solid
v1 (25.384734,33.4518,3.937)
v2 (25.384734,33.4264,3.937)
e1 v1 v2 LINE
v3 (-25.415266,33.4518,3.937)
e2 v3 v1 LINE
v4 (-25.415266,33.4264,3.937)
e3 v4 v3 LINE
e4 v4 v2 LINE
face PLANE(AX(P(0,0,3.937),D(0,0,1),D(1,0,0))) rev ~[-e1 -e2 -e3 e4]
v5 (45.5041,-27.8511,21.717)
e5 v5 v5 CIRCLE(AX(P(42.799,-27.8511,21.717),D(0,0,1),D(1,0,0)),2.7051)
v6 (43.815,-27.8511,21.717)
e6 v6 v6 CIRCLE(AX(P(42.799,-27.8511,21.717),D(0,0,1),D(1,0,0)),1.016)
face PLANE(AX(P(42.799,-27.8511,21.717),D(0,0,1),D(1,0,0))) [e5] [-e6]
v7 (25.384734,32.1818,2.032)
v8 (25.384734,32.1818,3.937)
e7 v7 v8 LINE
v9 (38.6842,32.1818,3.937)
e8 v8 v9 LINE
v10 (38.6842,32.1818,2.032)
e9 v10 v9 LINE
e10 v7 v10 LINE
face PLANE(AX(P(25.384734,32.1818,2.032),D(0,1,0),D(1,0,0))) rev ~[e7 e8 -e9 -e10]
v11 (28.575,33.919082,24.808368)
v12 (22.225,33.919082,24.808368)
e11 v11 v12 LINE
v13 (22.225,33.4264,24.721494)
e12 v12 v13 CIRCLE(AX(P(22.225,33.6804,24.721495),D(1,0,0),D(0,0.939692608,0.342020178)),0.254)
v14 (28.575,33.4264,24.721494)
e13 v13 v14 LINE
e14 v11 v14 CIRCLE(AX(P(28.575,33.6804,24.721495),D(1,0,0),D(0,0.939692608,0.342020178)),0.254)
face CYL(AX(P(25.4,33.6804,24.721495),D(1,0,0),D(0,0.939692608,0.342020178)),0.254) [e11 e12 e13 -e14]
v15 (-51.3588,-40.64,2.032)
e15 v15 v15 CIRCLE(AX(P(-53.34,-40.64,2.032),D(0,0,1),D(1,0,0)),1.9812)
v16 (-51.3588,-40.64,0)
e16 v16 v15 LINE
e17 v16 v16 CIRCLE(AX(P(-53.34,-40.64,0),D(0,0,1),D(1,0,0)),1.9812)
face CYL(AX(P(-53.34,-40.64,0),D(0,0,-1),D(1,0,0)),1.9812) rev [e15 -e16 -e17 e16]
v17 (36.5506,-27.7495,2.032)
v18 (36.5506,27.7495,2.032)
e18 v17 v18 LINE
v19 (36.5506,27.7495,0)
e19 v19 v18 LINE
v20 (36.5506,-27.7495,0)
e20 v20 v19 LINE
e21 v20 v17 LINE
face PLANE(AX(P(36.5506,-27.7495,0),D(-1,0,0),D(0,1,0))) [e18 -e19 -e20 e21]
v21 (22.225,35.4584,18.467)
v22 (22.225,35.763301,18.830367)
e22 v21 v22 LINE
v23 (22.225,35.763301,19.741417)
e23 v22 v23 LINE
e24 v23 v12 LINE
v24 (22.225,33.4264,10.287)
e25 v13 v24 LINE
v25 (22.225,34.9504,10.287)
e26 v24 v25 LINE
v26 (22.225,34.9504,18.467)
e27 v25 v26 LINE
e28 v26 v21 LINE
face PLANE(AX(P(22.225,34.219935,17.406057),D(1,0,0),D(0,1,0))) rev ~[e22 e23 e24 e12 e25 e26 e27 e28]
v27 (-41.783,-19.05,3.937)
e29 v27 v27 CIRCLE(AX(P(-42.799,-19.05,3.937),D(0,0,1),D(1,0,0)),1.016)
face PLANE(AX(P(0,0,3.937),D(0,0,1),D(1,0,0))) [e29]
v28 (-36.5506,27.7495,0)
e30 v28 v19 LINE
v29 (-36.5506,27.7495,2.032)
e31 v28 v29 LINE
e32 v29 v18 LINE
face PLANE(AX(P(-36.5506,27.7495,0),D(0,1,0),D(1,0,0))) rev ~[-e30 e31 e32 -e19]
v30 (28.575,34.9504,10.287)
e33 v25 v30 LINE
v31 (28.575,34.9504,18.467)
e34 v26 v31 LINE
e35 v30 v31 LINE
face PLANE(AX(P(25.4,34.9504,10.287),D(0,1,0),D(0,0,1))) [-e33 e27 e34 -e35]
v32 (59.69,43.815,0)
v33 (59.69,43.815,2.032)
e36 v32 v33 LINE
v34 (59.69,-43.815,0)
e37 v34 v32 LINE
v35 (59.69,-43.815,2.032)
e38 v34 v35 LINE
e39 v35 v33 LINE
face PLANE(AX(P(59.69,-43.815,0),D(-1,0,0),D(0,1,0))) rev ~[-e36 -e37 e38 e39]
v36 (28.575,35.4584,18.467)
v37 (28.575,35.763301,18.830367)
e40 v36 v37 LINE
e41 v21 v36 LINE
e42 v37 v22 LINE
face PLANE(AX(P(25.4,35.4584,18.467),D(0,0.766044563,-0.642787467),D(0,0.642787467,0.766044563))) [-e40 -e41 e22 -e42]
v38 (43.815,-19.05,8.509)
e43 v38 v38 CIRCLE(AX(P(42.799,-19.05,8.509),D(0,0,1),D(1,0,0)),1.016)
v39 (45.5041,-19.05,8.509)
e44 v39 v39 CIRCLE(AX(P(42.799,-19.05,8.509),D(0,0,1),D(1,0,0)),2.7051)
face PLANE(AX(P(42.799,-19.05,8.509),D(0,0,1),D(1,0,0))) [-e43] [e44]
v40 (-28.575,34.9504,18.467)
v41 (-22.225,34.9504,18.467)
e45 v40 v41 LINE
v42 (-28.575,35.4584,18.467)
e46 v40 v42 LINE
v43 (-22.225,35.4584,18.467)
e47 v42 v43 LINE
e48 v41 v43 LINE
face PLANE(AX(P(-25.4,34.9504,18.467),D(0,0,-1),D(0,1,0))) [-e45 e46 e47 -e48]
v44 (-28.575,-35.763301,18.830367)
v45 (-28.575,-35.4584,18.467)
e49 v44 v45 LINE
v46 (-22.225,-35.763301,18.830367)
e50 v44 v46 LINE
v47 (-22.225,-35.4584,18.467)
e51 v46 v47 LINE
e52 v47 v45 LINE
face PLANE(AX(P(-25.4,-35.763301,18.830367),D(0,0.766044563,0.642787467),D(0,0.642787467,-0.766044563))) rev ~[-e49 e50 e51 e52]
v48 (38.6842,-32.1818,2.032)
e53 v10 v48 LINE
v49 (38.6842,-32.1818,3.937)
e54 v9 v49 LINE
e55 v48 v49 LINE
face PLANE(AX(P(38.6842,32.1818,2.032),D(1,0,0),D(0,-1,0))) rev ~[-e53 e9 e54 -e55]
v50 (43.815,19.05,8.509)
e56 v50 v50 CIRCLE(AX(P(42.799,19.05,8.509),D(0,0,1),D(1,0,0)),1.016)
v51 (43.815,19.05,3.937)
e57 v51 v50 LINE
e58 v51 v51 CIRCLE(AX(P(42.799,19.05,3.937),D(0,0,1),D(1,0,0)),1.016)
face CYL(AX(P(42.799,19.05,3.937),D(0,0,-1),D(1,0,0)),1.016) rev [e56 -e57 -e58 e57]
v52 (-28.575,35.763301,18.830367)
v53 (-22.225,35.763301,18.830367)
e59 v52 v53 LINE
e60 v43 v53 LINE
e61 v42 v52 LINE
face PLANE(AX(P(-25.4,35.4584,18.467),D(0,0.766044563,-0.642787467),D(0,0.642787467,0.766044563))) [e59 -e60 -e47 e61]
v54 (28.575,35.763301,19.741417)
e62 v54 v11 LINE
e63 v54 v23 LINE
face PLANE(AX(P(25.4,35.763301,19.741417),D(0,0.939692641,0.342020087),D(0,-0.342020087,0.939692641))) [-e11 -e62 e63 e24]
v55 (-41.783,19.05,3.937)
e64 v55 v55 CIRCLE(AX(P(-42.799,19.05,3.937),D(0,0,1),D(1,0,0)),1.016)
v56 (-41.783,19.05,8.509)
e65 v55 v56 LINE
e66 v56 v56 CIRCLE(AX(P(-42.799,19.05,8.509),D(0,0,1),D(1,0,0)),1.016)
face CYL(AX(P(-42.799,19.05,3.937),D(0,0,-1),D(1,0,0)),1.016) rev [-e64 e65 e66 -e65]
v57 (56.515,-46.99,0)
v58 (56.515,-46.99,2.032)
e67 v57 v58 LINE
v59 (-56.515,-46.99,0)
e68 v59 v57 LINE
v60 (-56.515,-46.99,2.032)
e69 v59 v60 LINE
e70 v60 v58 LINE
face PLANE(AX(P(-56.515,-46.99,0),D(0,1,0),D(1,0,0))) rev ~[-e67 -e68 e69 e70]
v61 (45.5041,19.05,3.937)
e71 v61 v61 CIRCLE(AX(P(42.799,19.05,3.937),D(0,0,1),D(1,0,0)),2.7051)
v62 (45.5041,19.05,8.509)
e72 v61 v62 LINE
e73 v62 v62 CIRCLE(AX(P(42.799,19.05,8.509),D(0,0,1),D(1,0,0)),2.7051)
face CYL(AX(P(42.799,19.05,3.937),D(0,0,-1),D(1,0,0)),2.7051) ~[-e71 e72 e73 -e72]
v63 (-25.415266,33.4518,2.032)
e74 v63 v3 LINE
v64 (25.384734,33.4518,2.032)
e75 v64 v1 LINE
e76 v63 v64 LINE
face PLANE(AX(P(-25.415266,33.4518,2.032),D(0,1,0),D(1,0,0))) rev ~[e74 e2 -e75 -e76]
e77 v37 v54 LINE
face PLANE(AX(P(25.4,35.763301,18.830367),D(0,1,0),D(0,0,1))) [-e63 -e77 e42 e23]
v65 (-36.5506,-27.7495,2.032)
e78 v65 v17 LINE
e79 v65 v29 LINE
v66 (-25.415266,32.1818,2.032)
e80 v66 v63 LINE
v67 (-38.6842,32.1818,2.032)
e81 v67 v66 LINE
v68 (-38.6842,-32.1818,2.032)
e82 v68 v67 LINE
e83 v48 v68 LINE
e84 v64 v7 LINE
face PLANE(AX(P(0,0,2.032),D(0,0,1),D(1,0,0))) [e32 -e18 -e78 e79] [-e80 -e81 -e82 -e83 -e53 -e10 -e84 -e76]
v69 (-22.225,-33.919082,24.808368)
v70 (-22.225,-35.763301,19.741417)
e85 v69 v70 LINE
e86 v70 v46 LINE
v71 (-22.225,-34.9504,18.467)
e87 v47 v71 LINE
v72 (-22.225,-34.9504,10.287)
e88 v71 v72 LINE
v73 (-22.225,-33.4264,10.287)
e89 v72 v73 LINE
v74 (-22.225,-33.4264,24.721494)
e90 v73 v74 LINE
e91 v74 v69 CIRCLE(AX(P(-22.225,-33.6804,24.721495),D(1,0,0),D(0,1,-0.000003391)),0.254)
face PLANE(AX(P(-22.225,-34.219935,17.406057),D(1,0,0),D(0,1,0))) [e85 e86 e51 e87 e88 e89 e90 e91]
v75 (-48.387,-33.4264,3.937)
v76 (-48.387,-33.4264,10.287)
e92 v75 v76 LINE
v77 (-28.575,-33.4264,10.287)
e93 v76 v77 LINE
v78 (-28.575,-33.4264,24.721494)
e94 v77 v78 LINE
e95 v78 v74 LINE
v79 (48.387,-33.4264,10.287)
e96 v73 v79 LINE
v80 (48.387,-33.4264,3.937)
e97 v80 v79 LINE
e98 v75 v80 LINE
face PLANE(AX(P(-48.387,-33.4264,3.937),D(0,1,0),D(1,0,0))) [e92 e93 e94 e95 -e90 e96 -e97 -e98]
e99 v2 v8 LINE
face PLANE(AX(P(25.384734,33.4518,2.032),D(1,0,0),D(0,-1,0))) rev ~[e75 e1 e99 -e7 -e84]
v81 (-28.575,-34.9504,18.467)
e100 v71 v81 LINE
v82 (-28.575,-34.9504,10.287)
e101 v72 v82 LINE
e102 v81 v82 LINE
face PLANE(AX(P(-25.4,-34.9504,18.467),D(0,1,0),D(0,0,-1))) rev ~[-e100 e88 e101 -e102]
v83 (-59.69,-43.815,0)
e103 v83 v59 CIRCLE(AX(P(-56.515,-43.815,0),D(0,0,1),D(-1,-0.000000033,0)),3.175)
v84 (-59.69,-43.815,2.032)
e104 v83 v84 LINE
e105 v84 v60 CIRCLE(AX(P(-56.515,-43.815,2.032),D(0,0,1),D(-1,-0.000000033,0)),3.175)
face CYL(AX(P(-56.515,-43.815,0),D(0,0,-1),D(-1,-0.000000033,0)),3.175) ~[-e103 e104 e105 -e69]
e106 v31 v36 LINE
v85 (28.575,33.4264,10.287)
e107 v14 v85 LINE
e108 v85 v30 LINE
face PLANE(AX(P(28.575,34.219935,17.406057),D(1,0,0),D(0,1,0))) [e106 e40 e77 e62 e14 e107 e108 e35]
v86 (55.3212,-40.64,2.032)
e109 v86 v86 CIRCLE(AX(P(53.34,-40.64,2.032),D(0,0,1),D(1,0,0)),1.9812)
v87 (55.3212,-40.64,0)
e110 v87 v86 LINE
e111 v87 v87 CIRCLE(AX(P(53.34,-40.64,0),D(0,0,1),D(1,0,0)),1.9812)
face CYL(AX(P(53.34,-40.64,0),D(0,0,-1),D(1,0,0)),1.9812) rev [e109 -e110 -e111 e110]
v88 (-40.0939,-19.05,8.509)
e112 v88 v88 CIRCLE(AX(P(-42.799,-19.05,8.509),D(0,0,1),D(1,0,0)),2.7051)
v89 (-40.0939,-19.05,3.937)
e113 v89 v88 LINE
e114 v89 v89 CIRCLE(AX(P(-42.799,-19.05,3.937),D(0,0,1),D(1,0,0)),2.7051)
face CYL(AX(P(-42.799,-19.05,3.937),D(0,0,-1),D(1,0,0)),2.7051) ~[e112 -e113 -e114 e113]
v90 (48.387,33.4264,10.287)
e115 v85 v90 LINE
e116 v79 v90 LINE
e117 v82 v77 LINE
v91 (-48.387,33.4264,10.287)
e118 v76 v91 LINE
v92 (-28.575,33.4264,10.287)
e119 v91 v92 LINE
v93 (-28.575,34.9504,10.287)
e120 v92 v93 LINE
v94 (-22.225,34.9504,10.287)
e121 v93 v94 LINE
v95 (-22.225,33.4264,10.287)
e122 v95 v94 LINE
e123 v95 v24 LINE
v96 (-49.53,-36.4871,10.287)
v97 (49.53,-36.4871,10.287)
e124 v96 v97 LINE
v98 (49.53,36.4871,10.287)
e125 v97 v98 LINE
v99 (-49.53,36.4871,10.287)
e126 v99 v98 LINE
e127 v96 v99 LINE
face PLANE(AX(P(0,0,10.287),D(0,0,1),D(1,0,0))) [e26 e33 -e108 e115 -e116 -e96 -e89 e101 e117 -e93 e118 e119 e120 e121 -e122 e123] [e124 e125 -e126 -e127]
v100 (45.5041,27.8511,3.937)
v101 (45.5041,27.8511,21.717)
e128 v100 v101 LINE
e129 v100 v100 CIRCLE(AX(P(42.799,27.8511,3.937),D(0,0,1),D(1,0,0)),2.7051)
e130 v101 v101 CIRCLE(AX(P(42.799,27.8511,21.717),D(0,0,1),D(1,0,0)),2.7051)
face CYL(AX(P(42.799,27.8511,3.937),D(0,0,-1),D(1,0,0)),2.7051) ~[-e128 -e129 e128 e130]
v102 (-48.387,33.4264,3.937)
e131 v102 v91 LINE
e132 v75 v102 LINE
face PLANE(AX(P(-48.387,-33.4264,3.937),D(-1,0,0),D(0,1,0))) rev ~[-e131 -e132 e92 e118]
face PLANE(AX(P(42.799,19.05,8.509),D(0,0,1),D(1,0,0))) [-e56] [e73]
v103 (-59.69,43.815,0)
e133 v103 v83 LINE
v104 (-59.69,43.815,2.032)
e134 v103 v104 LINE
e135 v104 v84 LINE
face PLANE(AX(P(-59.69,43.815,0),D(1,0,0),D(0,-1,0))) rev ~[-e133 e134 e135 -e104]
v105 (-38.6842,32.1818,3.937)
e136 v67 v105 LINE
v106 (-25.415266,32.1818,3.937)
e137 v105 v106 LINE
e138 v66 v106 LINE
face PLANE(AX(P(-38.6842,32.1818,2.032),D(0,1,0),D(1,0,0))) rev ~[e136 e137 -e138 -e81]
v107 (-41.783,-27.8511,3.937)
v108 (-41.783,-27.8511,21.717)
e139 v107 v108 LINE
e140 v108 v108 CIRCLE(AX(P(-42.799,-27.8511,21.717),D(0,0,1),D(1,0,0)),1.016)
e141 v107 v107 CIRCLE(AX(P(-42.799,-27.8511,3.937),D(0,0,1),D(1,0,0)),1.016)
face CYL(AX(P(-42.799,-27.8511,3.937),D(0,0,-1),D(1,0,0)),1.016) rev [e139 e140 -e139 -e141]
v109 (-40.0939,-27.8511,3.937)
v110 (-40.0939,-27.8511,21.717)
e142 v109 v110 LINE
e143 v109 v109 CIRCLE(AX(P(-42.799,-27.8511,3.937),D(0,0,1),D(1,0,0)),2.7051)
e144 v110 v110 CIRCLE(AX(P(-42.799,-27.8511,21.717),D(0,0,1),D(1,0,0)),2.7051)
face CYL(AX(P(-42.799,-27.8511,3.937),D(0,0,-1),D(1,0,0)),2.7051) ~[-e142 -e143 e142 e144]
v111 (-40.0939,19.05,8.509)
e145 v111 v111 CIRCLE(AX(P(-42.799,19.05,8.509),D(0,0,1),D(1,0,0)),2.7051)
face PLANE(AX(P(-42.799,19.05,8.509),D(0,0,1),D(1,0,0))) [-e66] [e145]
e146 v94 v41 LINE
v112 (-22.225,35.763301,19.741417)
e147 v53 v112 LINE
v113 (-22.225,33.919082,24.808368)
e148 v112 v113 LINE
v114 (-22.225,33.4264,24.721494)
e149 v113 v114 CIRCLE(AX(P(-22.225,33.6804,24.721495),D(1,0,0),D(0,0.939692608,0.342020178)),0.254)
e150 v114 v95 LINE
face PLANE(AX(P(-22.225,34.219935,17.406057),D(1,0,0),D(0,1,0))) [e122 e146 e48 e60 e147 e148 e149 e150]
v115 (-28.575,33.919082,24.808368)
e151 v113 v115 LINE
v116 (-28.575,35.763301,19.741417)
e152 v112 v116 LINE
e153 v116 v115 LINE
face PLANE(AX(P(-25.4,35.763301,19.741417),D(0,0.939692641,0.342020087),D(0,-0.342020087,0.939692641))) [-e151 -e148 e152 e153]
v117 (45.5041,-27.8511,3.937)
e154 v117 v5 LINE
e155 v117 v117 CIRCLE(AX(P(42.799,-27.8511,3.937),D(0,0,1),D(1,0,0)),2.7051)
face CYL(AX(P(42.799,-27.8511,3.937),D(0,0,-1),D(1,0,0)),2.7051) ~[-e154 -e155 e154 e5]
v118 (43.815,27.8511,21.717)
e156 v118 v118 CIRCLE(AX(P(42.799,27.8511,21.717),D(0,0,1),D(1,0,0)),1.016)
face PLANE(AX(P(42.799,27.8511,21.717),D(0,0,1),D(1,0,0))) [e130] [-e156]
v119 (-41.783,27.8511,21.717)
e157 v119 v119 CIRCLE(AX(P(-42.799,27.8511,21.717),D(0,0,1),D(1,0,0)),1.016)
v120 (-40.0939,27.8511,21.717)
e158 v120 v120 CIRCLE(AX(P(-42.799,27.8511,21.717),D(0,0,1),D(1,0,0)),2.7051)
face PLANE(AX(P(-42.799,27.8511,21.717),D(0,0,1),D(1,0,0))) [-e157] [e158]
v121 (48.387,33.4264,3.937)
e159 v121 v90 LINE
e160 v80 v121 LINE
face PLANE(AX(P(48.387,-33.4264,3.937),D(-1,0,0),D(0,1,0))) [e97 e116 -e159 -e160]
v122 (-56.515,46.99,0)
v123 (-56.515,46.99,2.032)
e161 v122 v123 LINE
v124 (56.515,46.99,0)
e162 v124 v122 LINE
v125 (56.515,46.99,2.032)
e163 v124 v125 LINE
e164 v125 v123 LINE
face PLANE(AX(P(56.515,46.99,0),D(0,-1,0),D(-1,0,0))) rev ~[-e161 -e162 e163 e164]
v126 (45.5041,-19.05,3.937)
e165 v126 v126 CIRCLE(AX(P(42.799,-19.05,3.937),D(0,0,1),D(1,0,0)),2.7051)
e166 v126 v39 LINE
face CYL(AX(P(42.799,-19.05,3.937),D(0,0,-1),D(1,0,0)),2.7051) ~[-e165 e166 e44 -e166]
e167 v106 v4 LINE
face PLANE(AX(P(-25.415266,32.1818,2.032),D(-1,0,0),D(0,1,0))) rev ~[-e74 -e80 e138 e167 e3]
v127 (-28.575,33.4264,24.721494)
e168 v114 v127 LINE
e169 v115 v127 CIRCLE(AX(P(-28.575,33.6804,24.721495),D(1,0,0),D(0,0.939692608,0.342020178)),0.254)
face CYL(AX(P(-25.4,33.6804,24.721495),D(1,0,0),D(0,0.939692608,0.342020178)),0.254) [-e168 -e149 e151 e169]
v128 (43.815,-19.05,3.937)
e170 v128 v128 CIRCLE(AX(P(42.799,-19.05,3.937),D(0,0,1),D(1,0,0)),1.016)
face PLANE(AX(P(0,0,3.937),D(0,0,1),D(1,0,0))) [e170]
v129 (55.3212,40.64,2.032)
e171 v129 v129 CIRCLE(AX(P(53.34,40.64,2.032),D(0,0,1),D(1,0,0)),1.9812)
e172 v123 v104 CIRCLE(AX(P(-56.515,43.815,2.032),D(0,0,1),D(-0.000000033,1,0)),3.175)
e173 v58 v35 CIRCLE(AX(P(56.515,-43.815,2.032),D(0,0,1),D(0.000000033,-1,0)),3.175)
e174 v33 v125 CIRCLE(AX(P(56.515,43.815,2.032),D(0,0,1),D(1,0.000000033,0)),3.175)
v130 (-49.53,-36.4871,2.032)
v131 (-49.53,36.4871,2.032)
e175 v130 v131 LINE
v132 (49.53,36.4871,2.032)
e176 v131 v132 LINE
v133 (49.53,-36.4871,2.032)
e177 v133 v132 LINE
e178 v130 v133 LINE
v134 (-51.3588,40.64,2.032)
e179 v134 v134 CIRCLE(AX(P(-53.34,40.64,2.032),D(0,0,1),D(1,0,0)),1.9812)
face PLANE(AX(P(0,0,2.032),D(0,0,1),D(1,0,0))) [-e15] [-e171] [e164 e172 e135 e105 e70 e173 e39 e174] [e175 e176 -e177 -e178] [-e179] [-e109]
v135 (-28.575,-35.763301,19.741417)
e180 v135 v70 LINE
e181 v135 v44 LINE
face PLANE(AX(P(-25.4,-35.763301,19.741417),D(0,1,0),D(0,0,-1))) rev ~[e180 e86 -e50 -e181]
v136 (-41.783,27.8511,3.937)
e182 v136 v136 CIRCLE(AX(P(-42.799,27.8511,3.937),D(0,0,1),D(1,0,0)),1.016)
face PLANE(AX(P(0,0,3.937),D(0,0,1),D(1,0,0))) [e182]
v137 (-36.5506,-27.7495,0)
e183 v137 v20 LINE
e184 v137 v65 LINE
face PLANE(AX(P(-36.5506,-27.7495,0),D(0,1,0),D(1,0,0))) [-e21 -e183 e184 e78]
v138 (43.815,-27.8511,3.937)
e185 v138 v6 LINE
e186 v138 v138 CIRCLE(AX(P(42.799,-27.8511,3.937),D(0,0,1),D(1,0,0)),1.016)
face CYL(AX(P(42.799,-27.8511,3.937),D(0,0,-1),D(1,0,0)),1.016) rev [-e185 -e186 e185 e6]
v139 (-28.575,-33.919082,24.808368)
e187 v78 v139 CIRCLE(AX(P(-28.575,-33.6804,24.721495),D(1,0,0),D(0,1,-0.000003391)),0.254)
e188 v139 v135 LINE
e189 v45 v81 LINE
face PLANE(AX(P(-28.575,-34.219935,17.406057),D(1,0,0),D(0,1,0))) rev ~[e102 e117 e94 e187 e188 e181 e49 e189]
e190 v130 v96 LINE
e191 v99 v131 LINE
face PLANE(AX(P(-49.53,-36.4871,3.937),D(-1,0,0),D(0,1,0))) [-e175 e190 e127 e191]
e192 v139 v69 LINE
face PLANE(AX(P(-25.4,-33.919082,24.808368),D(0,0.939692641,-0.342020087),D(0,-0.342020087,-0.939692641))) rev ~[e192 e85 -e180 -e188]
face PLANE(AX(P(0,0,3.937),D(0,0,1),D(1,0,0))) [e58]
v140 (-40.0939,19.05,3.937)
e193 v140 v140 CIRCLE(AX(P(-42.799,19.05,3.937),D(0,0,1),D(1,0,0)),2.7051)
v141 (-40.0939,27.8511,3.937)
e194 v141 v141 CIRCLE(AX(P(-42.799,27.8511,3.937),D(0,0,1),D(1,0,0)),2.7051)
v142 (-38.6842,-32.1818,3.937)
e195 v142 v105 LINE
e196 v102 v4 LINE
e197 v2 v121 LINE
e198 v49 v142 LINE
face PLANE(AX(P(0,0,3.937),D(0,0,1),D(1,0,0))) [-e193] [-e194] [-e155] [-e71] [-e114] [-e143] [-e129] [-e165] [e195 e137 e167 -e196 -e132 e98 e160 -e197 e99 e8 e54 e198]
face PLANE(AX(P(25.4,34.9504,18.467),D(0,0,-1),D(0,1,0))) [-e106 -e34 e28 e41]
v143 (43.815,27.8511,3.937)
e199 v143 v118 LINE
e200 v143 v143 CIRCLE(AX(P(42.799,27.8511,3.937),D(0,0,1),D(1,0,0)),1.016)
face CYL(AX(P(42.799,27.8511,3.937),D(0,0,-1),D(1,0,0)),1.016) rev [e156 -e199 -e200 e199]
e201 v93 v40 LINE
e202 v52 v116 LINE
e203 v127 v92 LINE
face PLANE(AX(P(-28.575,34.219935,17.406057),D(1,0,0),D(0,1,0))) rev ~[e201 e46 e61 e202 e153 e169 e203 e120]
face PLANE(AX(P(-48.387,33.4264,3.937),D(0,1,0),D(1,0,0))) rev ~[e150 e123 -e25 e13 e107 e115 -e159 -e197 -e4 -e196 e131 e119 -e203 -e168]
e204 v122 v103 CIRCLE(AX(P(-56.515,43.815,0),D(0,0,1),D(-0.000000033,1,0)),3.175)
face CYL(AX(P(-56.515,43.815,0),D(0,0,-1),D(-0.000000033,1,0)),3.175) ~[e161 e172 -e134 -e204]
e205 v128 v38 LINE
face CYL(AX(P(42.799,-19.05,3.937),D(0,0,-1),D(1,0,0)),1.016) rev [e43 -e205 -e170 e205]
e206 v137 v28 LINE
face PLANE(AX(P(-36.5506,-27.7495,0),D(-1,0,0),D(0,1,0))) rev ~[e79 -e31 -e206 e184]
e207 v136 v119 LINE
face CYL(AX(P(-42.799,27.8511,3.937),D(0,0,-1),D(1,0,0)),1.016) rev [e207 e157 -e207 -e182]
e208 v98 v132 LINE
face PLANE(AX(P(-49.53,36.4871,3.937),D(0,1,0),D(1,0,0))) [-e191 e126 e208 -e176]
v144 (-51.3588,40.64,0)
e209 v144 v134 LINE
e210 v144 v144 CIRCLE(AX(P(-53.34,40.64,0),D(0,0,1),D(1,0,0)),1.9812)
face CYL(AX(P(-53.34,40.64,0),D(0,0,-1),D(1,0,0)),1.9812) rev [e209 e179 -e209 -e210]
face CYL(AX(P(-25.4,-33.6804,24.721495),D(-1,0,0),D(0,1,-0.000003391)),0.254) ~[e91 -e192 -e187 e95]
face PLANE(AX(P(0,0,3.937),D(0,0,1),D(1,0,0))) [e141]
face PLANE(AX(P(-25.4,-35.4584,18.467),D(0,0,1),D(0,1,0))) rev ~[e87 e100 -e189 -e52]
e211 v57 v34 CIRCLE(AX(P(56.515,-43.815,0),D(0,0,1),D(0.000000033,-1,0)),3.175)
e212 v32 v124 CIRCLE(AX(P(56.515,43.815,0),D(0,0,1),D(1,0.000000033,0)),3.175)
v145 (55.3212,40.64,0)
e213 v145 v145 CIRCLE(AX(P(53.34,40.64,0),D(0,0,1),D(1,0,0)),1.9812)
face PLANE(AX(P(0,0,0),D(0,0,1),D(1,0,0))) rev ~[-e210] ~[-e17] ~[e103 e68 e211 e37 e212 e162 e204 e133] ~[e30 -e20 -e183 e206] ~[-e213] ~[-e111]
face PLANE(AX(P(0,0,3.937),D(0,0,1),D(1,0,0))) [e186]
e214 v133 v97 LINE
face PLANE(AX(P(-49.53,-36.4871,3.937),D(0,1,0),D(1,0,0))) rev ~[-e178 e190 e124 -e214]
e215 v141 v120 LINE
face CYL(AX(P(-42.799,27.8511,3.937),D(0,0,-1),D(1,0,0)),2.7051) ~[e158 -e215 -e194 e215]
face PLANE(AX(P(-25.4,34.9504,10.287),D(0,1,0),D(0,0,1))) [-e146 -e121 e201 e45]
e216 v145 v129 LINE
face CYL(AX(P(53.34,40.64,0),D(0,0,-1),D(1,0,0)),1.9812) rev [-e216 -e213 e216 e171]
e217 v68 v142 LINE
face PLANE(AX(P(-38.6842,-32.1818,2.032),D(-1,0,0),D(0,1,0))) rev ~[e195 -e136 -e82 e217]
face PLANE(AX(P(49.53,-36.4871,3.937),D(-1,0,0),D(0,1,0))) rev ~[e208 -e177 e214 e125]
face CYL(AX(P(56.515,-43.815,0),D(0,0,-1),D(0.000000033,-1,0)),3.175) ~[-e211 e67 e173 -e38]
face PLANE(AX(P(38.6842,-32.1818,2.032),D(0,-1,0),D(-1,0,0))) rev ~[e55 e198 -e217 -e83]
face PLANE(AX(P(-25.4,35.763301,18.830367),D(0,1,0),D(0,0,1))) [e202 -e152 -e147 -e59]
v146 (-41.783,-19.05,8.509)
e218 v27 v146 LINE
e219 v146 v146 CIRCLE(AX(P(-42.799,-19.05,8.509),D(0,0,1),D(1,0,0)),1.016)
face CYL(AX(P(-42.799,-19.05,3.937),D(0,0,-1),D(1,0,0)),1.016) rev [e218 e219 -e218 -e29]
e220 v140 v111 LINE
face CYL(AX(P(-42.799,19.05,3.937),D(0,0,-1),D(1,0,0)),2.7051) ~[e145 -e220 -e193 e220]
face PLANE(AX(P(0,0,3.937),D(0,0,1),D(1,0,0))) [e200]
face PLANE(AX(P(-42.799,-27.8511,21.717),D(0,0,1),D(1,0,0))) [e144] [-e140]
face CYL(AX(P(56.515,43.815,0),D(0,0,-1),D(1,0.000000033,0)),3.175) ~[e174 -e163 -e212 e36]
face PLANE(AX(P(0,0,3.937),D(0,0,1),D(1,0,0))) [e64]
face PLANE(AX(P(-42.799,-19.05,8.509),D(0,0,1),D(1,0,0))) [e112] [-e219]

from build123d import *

# Parameters (mm, degrees)
F0_R      = 1.9812
F0_W      = 73.1012
F0_H      = 55.499
F1_DEPTH  = 2.032
F2_W      = 99.06
F2_H      = 72.9742
F3_DEPTH  = 1.905
F4_W      = 99.06
F4_H      = 72.9742
F4_W_2    = 96.774
F4_H_2    = 66.8528
F5_DEPTH  = 6.35
F6_R      = 2.7051
F6_R_2    = 1.016
F7_DEPTH  = 17.78
F8_R      = 2.7051
F8_R_2    = 1.016
F9_DEPTH  = 4.572
F12_DEPTH = 3.175
F15_DEPTH = 3.175


with BuildPart() as f1:
    # F0 (on Top) → F1 (new body)
    with BuildSketch(Plane.XY):
        with BuildLine():
            Line((56.515, 46.99), (-56.515, 46.99))
            ThreePointArc((-56.515, 46.99), (-58.760064, 46.060064), (-59.69, 43.815))
            Line((-59.69, 43.815), (-59.69, -43.815))
            ThreePointArc((-59.69, -43.815), (-58.760064, -46.060064), (-56.515, -46.99))
            Line((-56.515, -46.99), (56.515, -46.99))
            ThreePointArc((56.515, -46.99), (58.760064, -46.060064), (59.69, -43.815))
            Line((59.69, -43.815), (59.69, 43.815))
            ThreePointArc((59.69, 43.815), (58.760064, 46.060064), (56.515, 46.99))
        make_face()
        with Locations((-53.34, -40.64)):
            Circle(F0_R, mode=Mode.SUBTRACT)
        with Locations((53.34, -40.64)):
            Circle(F0_R, mode=Mode.SUBTRACT)
        Rectangle(F0_W, F0_H, mode=Mode.SUBTRACT)
        with Locations((-53.34, 40.64)):
            Circle(F0_R, mode=Mode.SUBTRACT)
        with Locations((53.34, 40.64)):
            Circle(F0_R, mode=Mode.SUBTRACT)
    extrude(amount=F1_DEPTH)

    # F2 (on face) → F3 (join)
    with BuildSketch(Plane.XY.offset(2.032)):
        Rectangle(F2_W, F2_H)
        Polygon((38.6842, -32.1818), (-38.6842, -32.1818), (-38.6842, 32.1818), (-25.415266, 32.1818), (-25.415266, 33.4518), (25.384734, 33.4518), (25.384734, 32.1818), (38.6842, 32.1818), align=None, mode=Mode.SUBTRACT)
    extrude(amount=F3_DEPTH)

    # F4 (on face) → F5 (join)
    with BuildSketch(Plane.XY.offset(3.937)):
        Rectangle(F4_W, F4_H)
        Rectangle(F4_W_2, F4_H_2, mode=Mode.SUBTRACT)
    extrude(amount=F5_DEPTH)

    # F6 (on face) → F7 (join)
    with BuildSketch(Plane.XY.offset(3.937)):
        with Locations((-42.799, 27.8511)):
            Circle(F6_R)
        with Locations((-42.799, 27.8511)):
            Circle(F6_R_2, mode=Mode.SUBTRACT)
        with Locations((-42.799, -27.8511)):
            Circle(F6_R)
        with Locations((-42.799, -27.8511)):
            Circle(F6_R_2, mode=Mode.SUBTRACT)
        with Locations((42.799, -27.8511)):
            Circle(F6_R)
        with Locations((42.799, -27.8511)):
            Circle(F6_R_2, mode=Mode.SUBTRACT)
        with Locations((42.799, 27.8511)):
            Circle(F6_R)
        with Locations((42.799, 27.8511)):
            Circle(F6_R_2, mode=Mode.SUBTRACT)
    extrude(amount=F7_DEPTH)

    # F8 (on face) → F9 (join)
    with BuildSketch(Plane.XY.offset(3.937)):
        with Locations((-42.799, 19.05)):
            Circle(F8_R)
        with Locations((-42.799, 19.05)):
            Circle(F8_R_2, mode=Mode.SUBTRACT)
        with Locations((-42.799, -19.05)):
            Circle(F8_R)
        with Locations((-42.799, -19.05)):
            Circle(F8_R_2, mode=Mode.SUBTRACT)
        with Locations((42.799, 19.05)):
            Circle(F8_R)
        with Locations((42.799, 19.05)):
            Circle(F8_R_2, mode=Mode.SUBTRACT)
        with Locations((42.799, -19.05)):
            Circle(F8_R)
        with Locations((42.799, -19.05)):
            Circle(F8_R_2, mode=Mode.SUBTRACT)
    extrude(amount=F9_DEPTH)

    # F11 (on offset) → F12 (join, symmetric)
    with BuildSketch(Plane.YZ.offset(-25.4)):
        with BuildLine():
            Line((-34.9504, 10.287), (-33.4264, 10.287))
            Line((-33.4264, 10.287), (-33.4264, 24.721494))
            ThreePointArc((-33.4264, 24.721494), (-33.636293, 24.971636), (-33.919082, 24.808368))
            Line((-33.919082, 24.808368), (-35.763301, 19.741417))
            Line((-35.763301, 19.741417), (-35.763301, 18.830367))
            Line((-35.763301, 18.830367), (-35.4584, 18.467))
            Line((-35.4584, 18.467), (-34.9504, 18.467))
            Line((-34.9504, 18.467), (-34.9504, 10.287))
        make_face()
        with BuildLine():
            Line((33.4264, 24.721494), (33.4264, 10.287))
            Line((33.4264, 10.287), (34.9504, 10.287))
            Line((34.9504, 10.287), (34.9504, 18.467))
            Line((34.9504, 18.467), (35.4584, 18.467))
            Line((35.4584, 18.467), (35.763301, 18.830367))
            Line((35.763301, 18.830367), (35.763301, 19.741417))
            Line((35.763301, 19.741417), (33.919082, 24.808368))
            ThreePointArc((33.919082, 24.808368), (33.636293, 24.971636), (33.4264, 24.721494))
        make_face()
    extrude(amount=F12_DEPTH, both=True)

    # F14 (on offset) → F15 (join, symmetric)
    with BuildSketch(Plane.YZ.offset(25.4)):
        with BuildLine():
            ThreePointArc((33.919082, 24.808368), (33.636293, 24.971636), (33.4264, 24.721494))
            Line((33.4264, 24.721494), (33.4264, 10.287))
            Line((33.4264, 10.287), (34.9504, 10.287))
            Line((34.9504, 10.287), (34.9504, 18.467))
            Line((34.9504, 18.467), (35.4584, 18.467))
            Line((35.4584, 18.467), (35.763301, 18.830367))
            Line((35.763301, 18.830367), (35.763301, 19.741417))
            Line((35.763301, 19.741417), (33.919082, 24.808368))
        make_face()
    extrude(amount=F15_DEPTH, both=True)


solid = f1.part
